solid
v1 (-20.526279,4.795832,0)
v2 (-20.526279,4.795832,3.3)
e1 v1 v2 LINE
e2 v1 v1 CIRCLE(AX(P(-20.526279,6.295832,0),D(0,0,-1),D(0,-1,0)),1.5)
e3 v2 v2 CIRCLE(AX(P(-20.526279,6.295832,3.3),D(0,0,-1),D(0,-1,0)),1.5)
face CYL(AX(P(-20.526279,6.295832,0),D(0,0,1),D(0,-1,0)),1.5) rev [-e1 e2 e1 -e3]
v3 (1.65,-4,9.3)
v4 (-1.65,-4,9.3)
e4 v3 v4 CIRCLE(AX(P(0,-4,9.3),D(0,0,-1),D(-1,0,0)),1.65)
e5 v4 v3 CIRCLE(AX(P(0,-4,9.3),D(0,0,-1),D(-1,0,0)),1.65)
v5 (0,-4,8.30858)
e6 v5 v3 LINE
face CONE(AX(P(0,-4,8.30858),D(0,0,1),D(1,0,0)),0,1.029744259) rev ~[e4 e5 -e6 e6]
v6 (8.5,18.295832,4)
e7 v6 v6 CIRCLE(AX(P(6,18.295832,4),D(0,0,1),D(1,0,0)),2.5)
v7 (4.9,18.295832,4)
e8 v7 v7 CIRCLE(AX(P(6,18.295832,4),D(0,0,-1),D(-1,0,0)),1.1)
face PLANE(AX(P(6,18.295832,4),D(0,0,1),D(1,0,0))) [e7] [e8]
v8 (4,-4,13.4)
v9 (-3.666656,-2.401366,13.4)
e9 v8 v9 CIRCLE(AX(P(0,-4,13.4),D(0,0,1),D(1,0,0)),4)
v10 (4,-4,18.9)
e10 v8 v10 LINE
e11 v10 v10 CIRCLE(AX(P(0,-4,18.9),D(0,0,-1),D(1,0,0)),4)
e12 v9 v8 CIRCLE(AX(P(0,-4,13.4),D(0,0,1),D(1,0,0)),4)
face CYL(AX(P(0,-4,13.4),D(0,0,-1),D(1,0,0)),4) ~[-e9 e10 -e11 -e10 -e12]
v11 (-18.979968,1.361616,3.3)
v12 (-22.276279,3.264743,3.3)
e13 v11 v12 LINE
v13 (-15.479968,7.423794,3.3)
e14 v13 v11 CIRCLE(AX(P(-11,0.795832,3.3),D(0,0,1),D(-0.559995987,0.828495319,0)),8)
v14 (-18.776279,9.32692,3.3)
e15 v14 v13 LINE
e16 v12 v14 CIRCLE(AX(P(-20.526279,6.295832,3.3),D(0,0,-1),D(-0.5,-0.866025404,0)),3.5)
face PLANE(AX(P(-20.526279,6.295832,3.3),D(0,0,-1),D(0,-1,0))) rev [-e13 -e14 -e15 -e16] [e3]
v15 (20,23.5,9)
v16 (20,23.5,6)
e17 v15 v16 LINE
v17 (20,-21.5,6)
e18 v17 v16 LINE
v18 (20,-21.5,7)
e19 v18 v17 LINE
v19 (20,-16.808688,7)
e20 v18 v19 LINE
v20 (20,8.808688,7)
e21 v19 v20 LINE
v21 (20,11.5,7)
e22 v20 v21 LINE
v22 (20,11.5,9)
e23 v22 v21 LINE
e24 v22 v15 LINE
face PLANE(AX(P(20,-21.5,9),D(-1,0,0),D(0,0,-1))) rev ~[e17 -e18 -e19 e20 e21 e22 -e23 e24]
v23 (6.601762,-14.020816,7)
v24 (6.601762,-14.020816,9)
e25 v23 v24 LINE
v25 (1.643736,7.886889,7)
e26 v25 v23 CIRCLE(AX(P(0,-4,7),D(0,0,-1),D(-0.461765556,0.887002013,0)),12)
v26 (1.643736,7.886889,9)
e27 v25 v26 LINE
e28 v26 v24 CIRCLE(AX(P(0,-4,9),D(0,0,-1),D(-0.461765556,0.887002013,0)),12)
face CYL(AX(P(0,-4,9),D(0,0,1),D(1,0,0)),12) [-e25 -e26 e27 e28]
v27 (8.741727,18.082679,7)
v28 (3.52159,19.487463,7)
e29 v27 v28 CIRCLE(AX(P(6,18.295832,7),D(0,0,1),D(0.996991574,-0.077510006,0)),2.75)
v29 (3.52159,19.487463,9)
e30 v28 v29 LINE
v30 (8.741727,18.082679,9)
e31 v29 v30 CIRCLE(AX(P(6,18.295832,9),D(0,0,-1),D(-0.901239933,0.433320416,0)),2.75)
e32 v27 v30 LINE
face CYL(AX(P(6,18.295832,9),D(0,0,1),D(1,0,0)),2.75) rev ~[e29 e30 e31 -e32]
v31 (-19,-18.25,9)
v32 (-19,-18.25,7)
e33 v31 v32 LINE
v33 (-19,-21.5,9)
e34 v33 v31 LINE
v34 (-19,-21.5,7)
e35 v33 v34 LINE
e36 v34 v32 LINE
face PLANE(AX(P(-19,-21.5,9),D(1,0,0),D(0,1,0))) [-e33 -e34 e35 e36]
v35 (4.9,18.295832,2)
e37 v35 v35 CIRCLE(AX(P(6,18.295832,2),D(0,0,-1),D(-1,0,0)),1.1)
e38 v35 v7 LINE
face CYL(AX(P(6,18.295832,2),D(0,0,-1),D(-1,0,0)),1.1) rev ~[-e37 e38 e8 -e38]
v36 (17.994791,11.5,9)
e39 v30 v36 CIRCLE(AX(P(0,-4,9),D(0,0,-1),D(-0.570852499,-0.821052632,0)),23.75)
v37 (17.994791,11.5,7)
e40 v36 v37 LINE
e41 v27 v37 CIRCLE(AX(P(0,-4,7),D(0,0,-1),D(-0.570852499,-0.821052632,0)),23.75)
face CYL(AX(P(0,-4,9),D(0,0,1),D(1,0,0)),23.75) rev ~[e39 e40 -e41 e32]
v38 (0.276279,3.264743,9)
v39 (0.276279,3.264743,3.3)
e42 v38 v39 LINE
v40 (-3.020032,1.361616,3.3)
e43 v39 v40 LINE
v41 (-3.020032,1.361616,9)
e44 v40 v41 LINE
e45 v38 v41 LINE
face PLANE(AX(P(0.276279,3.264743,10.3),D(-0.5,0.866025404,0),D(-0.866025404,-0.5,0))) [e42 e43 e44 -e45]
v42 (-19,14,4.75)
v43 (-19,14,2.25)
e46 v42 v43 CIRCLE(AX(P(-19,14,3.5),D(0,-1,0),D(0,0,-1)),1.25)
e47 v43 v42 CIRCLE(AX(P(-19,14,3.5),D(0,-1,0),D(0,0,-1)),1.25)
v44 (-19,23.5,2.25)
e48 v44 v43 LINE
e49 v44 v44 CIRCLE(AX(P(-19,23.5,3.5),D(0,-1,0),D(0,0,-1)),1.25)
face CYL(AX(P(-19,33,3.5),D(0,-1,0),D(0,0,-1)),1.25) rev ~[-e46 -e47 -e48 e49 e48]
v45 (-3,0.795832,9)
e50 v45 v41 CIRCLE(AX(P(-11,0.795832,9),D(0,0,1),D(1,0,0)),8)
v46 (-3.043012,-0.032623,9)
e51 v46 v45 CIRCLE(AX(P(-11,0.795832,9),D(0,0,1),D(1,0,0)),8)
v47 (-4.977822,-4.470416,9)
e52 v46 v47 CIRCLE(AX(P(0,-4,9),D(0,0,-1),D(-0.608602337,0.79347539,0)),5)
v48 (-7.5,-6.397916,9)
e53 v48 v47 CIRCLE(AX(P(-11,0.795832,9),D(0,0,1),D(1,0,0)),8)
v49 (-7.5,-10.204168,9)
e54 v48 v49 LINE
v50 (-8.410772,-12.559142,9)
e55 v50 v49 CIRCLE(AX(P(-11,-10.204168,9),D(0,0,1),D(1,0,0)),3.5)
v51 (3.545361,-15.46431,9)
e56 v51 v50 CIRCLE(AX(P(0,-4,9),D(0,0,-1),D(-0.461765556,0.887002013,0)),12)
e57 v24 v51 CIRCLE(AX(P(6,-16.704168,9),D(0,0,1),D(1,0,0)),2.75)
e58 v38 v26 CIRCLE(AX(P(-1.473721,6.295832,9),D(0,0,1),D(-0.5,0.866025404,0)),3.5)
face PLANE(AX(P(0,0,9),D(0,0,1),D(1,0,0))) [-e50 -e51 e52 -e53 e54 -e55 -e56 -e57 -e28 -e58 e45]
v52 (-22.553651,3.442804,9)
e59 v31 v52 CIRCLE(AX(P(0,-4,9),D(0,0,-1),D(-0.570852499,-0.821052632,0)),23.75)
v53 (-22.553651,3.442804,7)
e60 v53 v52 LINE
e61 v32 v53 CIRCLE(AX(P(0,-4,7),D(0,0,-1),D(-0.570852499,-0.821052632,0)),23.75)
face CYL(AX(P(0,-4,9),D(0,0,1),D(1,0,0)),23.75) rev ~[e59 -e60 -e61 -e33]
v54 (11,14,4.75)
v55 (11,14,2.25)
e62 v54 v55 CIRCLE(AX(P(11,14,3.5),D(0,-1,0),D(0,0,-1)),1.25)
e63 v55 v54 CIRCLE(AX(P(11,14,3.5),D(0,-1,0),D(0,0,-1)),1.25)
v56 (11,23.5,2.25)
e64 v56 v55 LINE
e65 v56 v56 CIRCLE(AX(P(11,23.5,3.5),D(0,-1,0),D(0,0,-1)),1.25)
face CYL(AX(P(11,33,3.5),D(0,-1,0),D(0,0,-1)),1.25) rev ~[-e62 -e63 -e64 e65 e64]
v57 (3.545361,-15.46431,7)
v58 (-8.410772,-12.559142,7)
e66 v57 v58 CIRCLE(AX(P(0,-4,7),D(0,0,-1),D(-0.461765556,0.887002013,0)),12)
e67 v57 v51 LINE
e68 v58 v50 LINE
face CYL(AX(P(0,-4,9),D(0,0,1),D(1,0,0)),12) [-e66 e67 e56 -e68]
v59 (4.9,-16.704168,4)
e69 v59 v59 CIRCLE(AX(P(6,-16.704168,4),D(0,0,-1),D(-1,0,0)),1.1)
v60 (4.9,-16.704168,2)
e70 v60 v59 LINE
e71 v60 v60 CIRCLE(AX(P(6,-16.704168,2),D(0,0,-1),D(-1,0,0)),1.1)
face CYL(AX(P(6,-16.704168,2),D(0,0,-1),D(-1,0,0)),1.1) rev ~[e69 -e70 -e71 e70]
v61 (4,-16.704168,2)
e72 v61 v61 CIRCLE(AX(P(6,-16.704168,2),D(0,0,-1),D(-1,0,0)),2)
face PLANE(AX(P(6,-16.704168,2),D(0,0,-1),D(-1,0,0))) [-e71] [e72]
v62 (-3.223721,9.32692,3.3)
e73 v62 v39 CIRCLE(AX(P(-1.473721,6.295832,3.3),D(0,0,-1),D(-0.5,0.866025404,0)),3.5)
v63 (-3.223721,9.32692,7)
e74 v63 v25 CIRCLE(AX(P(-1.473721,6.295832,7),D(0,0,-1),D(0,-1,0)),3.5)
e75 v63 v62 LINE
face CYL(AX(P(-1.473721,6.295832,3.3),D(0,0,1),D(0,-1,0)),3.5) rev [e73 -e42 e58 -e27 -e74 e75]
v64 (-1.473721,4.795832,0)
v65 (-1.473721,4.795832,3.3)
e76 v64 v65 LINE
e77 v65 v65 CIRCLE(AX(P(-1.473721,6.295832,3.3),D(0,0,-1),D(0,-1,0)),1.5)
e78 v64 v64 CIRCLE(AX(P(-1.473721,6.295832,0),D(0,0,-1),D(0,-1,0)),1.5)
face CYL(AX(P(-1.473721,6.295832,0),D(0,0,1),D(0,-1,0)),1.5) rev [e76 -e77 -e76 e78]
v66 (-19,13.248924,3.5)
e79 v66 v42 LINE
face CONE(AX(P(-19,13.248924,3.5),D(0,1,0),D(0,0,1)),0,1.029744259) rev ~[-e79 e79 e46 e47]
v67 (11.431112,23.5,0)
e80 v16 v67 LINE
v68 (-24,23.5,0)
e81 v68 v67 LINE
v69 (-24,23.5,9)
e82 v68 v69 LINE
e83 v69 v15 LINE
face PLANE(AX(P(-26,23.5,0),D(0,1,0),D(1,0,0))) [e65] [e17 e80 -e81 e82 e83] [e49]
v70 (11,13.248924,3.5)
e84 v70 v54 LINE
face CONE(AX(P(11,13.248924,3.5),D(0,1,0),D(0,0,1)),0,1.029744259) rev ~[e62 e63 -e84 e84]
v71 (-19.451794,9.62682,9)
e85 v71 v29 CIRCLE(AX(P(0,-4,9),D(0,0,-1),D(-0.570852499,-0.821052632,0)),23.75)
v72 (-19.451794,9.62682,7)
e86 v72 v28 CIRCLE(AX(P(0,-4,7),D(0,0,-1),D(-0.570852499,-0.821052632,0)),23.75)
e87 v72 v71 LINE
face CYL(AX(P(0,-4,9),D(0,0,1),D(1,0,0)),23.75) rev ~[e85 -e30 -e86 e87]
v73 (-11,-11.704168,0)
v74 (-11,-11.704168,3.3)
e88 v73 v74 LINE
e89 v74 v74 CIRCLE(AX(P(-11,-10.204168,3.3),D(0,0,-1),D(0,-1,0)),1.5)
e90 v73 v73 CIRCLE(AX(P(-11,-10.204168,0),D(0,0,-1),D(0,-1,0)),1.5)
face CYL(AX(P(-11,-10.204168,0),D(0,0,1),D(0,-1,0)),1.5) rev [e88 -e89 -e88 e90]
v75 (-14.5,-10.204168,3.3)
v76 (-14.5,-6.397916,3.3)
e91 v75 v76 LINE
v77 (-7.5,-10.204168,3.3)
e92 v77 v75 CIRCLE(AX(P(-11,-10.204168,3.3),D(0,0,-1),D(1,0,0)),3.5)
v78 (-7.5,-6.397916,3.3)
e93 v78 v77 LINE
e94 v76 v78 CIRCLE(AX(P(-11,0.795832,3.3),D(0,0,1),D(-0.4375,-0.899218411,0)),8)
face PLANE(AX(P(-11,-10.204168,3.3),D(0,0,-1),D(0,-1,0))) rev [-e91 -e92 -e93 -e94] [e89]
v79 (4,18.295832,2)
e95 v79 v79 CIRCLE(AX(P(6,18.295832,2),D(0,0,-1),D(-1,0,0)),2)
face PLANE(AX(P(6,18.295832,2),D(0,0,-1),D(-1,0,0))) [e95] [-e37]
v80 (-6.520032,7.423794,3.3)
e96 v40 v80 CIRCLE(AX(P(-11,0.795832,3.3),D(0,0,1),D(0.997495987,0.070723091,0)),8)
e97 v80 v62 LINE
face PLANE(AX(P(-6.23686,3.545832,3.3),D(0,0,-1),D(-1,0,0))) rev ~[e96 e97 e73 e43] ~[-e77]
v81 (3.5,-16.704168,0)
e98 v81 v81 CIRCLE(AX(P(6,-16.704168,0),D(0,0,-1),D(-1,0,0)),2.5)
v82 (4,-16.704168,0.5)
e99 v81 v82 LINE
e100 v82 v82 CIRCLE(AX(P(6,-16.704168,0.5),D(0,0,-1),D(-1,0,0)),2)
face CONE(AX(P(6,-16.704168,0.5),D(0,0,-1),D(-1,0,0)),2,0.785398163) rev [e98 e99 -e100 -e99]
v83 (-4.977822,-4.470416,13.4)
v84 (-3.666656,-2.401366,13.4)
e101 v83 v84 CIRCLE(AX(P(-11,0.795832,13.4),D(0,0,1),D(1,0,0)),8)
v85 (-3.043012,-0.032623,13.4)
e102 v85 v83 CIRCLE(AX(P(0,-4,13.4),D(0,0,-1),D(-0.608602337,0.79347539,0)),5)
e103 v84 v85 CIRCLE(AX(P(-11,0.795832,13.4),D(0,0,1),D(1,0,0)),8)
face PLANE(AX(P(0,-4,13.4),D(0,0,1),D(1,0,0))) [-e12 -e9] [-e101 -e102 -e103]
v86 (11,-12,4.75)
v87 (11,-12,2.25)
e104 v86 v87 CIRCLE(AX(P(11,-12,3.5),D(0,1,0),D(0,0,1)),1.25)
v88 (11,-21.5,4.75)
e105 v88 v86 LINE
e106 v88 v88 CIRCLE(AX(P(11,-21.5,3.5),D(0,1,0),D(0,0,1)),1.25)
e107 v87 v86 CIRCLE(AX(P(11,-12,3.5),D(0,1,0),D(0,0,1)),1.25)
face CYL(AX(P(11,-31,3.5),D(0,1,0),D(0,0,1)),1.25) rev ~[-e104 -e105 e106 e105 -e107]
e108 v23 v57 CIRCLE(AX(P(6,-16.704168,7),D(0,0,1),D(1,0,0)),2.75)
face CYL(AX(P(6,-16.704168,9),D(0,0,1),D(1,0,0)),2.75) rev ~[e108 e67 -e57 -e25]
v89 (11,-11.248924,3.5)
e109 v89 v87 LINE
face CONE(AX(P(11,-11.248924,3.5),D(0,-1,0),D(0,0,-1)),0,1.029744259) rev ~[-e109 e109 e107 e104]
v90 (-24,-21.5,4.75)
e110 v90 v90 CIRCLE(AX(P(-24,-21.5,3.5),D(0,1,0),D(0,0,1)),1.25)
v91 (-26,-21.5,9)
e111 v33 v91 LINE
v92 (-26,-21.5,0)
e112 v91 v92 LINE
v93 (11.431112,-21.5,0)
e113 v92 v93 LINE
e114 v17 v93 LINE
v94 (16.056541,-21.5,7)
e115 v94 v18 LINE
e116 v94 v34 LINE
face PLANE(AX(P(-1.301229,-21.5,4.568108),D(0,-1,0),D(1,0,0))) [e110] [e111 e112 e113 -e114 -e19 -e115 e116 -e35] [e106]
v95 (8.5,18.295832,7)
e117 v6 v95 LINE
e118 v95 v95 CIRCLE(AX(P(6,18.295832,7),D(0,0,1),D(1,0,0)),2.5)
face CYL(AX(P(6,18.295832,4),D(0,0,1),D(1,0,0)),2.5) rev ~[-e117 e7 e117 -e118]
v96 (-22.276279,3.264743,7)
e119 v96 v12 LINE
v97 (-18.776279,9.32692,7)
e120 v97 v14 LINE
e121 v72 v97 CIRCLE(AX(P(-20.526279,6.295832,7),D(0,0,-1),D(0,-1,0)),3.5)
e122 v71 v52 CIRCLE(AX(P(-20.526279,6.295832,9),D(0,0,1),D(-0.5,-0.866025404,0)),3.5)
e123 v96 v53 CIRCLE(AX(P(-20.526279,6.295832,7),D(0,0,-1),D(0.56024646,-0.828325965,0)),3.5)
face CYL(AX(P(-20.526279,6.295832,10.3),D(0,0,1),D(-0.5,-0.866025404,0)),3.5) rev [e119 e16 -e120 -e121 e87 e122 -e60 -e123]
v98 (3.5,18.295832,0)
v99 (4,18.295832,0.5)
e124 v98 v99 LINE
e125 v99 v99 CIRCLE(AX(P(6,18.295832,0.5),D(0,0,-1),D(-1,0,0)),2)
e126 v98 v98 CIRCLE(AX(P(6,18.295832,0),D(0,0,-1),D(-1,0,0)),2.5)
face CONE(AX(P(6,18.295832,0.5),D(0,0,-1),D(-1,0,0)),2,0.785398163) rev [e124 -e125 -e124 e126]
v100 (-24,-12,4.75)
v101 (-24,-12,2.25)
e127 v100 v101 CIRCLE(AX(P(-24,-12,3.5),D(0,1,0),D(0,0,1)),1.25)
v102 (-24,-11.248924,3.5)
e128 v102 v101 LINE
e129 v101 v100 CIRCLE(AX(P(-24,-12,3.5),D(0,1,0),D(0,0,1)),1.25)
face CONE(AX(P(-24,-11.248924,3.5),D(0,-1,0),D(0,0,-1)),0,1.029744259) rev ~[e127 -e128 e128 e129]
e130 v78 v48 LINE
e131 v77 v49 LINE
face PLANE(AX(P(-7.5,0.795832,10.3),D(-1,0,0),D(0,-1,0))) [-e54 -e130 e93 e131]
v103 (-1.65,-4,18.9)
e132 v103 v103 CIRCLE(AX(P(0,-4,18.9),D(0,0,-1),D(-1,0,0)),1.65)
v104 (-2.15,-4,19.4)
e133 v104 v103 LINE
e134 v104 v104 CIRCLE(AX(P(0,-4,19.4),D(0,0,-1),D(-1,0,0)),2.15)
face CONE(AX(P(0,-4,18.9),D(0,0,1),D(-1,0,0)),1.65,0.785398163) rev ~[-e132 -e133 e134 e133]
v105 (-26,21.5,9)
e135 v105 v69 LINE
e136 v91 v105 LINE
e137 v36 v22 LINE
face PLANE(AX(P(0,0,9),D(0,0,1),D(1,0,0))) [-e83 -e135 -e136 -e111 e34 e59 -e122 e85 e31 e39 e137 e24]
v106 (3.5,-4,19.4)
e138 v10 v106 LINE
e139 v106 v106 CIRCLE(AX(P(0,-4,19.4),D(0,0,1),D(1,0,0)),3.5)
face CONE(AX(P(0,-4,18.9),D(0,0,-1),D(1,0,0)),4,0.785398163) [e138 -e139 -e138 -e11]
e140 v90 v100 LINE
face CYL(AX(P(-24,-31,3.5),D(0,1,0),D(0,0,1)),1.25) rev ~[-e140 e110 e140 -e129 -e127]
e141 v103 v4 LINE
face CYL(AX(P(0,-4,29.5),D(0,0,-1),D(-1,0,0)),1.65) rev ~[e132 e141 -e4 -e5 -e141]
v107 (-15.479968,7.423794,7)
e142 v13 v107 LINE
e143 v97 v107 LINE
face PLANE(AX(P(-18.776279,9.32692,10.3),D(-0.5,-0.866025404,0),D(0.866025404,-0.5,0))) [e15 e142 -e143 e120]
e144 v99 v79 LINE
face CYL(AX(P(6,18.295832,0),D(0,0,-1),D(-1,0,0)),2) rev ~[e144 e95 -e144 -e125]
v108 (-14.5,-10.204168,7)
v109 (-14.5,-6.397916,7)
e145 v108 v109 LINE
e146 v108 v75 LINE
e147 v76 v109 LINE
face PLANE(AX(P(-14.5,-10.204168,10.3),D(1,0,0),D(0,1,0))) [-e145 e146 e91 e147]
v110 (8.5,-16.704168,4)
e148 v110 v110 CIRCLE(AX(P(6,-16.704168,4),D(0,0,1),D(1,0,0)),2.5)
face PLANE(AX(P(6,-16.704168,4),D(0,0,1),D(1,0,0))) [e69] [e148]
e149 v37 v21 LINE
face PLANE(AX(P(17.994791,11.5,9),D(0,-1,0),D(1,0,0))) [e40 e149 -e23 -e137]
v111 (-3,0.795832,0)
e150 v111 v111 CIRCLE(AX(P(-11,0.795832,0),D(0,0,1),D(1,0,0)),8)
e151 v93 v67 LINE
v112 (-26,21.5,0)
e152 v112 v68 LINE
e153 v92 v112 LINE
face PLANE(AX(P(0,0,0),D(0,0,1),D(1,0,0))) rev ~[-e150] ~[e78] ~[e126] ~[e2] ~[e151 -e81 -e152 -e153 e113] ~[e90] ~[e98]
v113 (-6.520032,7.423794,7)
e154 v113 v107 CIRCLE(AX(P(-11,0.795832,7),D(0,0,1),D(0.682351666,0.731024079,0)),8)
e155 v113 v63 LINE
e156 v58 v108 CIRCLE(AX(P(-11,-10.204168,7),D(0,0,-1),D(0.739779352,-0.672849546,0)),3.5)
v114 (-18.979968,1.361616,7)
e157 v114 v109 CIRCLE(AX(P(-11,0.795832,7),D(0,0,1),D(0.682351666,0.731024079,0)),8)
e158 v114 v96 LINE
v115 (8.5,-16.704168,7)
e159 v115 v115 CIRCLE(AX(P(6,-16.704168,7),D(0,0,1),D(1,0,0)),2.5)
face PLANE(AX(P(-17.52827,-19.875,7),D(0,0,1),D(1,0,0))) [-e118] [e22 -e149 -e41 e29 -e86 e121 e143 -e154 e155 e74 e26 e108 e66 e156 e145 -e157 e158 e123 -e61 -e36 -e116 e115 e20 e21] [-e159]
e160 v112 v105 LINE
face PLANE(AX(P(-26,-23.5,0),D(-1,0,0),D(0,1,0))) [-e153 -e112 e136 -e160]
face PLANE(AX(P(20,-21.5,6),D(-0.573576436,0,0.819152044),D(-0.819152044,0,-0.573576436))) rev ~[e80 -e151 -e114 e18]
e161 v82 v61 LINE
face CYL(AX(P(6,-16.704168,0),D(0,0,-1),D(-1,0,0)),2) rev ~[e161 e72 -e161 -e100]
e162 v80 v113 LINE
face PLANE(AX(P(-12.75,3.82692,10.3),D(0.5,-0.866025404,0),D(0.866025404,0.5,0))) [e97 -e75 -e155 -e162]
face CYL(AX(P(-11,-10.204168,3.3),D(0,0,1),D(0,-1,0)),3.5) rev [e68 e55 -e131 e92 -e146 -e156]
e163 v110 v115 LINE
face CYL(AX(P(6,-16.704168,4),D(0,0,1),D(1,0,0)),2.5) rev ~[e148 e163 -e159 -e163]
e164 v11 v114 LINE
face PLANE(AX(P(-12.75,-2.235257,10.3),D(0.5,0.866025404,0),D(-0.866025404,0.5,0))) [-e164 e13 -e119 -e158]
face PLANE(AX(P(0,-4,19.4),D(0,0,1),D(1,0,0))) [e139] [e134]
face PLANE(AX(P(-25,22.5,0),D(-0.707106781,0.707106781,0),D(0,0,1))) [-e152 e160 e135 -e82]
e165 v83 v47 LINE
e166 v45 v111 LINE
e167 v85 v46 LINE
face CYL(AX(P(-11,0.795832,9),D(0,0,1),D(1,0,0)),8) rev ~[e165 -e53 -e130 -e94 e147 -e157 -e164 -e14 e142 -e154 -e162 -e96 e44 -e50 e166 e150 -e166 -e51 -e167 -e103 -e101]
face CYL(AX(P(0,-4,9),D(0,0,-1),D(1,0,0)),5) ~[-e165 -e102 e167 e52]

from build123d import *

# Parameters (mm, degrees)
SKETCH_1_W                  = 52
SKETCH_1_H                  = 47
EXTRUDE_1_DEPTH             = 9
SKETCH_19_R                 = 23.75
SKETCH_19_R_2               = 12
CUT_EXTRUDE_2_DEPTH         = 2
SKETCH_20_R                 = 5
EXTRUDE_3_DEPTH             = 4.4
SKETCH_21_R                 = 4
EXTRUDE_4_DEPTH             = 6
SKETCH_22_R                 = 8
CUT_EXTRUDE_5_DEPTH         = 37.556941885
CUT_EXTRUDE_6_DEPTH         = 47
HOLE_WIZARD_M3_1_D          = 2.5
HOLE_WIZARD_M3_1_DEPTH      = 9.5
HOLE_WIZARD_M3_1_TIP        = 0.751075774
HOLE_WIZARD_M4_2_D          = 3.3
HOLE_WIZARD_M4_2_DEPTH      = 10.1
HOLE_WIZARD_M4_2_TIP        = 0.991420021
CHAMFER_3_SIZE              = 0.5
CHAMFER_5_SIZE              = 2
EXTRUDE3_DEPTH              = 2
EXTRUDE4_REACH              = 57.474
CUT_EXTRUDE_START           = -31
SKETCH_34_R                 = 8
CUT_EXTRUDE_1_DEPTH         = 31
SKETCH_35_R                 = 3.25
CUT_EXTRUDE_2_2_DEPTH       = 33
PATTERN_CIRCULAR_1_COUNT    = 3
HOLE_WIZARD_2_AT_2_COUNT    = 2
HOLE_WIZARD_2_AT_2_PITCH    = 19.052558883
HOLE_WIZARD_2_AT_3_COUNT    = 2
HOLE_WIZARD_2_AT_3_PITCH    = 19.052558883
HOLE_WIZARD_M3_2_D          = 2.5
HOLE_WIZARD_M3_2_DEPTH      = 9.5
HOLE_WIZARD_M3_2_TIP        = 0.751075774
SKETCH_39_R                 = 2
CUT_EXTRUDE_3_DEPTH         = 2
SKETCH_40_R                 = 2.75
CUT_EXTRUDE_4_DEPTH         = 2
SKETCH_41_R                 = 1.1
CUT_EXTRUDE_5_2_DEPTH       = 37
CHAMFER_7_SIZE              = 0.5
HOLE_WIZARD_2_2_D           = 2
HOLE_WIZARD_2_2_CBORE_D     = 5
HOLE_WIZARD_2_2_CBORE_DEPTH = 3
CUT_EXTRUDE_START_2         = 7
CUT_EXTRUDE_7_DEPTH         = 7
PATTERN_CIRCULAR_2_COUNT    = 3
SKETCH_45_W                 = 2.943459277
SKETCH_45_H                 = 3.25
SKETCH_45_W_2               = 2.005209087
SKETCH_45_H_2               = 2.691311543
SKETCH_45_W_3               = 3.943459277
SKETCH_45_H_3               = 4.763787499
CUT_EXTRUDE_8_DEPTH         = 2


with BuildPart() as part:
    # 草图1 → 拉伸1 (new body)
    with BuildSketch(Plane.XY):
        Rectangle(SKETCH_1_W, SKETCH_1_H)
    extrude(amount=EXTRUDE_1_DEPTH)

    # 草图19 → Cut-Extrude 2 (cut)
    with BuildSketch(Plane.XY.offset(9)):
        with Locations((0, -4)):
            Circle(SKETCH_19_R)
        with Locations((0, -4)):
            Circle(SKETCH_19_R_2, mode=Mode.SUBTRACT)
    extrude(amount=-CUT_EXTRUDE_2_DEPTH, mode=Mode.SUBTRACT)

    # 草图20 → 拉伸3 (add)
    with BuildSketch(Plane.XY.offset(9)):
        with Locations((0, -4)):
            Circle(SKETCH_20_R)
    extrude(amount=EXTRUDE_3_DEPTH)

    # 草图21 → 拉伸4 (add)
    with BuildSketch(Plane.XY.offset(13.4)):
        with Locations((0, -4)):
            Circle(SKETCH_21_R)
    extrude(amount=EXTRUDE_4_DEPTH)

    # 草图22 → Cut-Extrude 5 (cut, through all)
    with BuildSketch(Plane.XY.offset(9)):
        with Locations((-11, 0.795831523)):
            Circle(SKETCH_22_R)
    extrude(amount=-CUT_EXTRUDE_5_DEPTH, mode=Mode.SUBTRACT)

    # 草图25 → 拉伸6 (cut)
    with BuildSketch(Plane.XZ.offset(23.5)):
        Polygon((26, 8), (14.574815946, 0), (26, 0), align=None)
    extrude(amount=-CUT_EXTRUDE_6_DEPTH, mode=Mode.SUBTRACT)

    # M3 螺纹孔1
    with Locations(Plane(origin=(11, 23.5, 3.5), x_dir=(0, 0, 1), z_dir=(0, 1, 0))):
        with Locations((0, 0), (0, -30)):
            Hole(HOLE_WIZARD_M3_1_D / 2, depth=HOLE_WIZARD_M3_1_DEPTH)
            with Locations((0, 0, -(HOLE_WIZARD_M3_1_DEPTH + HOLE_WIZARD_M3_1_TIP / 2))):  # 118° drill point
                Cone(0, HOLE_WIZARD_M3_1_D / 2, HOLE_WIZARD_M3_1_TIP, mode=Mode.SUBTRACT)

    # M4 螺纹孔2
    with Locations(Plane(origin=(0, -4, 19.4), x_dir=(1, 0, 0), z_dir=(0, 0, 1))):
        with Locations((0, 0)):
            Hole(HOLE_WIZARD_M4_2_D / 2, depth=HOLE_WIZARD_M4_2_DEPTH)
            with Locations((0, 0, -(HOLE_WIZARD_M4_2_DEPTH + HOLE_WIZARD_M4_2_TIP / 2))):  # 118° drill point
                Cone(0, HOLE_WIZARD_M4_2_D / 2, HOLE_WIZARD_M4_2_TIP, mode=Mode.SUBTRACT)

    # 倒角3
    chamfer_3_edges = [part.edges().sort_by_distance(p)[0] for p in [
        (-4, -4, 19.4),
        (1.65, -4, 19.4),
    ]]
    chamfer(chamfer_3_edges, length=CHAMFER_3_SIZE)

    # 倒角5
    chamfer_5_edges = [part.edges().sort_by_distance(p)[0] for p in [
        (-26, 23.5, 4.5),
    ]]
    chamfer(chamfer_5_edges, length=CHAMFER_5_SIZE)

    # Sketch4 → Extrude3 (cut)
    with BuildSketch(Plane.XZ.offset(23.5)):
        Polygon((-26, 0), (14.574815946, 0), (26, 8), (26, 9), (13.557746863, 9), (13.557746863, 7), (-13.557746863, 7), (-13.557746863, 9), (-26, 9), align=None)
    extrude(amount=-EXTRUDE3_DEPTH, mode=Mode.SUBTRACT)

    # Extrude4: up to this face of the body (flat: up to its plane)
    extrude4_end = Plane(part.part.faces().sort_by_distance((-1.330613504, 23.5, 4.737278788))[0])
    # Sketch5 → Extrude4 (cut, up to the picked face)
    with BuildSketch(Plane.XZ.offset(21.5), mode=Mode.PRIVATE) as extrude4_sk1:
        Polygon((26, 9), (20, 9), (20, 6), (11.43111196, 0), (14.574815946, 0), (26, 8), align=None)
    extrude4_tool1 = split(extrude(extrude4_sk1.sketch, amount=-EXTRUDE4_REACH, mode=Mode.PRIVATE), bisect_by=extrude4_end, keep=Keep.BOTH, mode=Mode.PRIVATE)
    add(extrude4_tool1.solids().sort_by(Axis((19.659359, -21.5, 5.073959), (0, 1, 0)))[0], mode=Mode.SUBTRACT)

    # 草图34 → 切除-拉伸1 (cut)
    with BuildSketch(Plane(origin=(0, 0, 0), x_dir=(-1, 0, 0), z_dir=(0, 0, -1)).offset(CUT_EXTRUDE_START)):
        with Locations(Location((11, 0.795831523, 0), (0, 0, 180))):
            Circle(SKETCH_34_R)
    extrude(amount=CUT_EXTRUDE_1_DEPTH, mode=Mode.SUBTRACT)

    # 草图35 → Cut-Extrude 2 2 (cut)
    with BuildSketch(Plane.XY.offset(7)):
        with Locations((-1.473720558, 6.295831523)):
            Circle(SKETCH_35_R)
    cut_extrude_2_2 = extrude(amount=CUT_EXTRUDE_2_2_DEPTH, mode=Mode.SUBTRACT)

    # 阵列(圆周)1: Cut-Extrude 2 2 ×3 about axis
    pattern_circular_1_axis = Axis((-11, 0.795831523, 0), (0, 0, 1))
    for i in range(1, PATTERN_CIRCULAR_1_COUNT):
        add(cut_extrude_2_2.rotate(pattern_circular_1_axis, i * 360 / PATTERN_CIRCULAR_1_COUNT), mode=Mode.SUBTRACT)

    # 草图36 → Hole Wizard 2 (revolve, cut)
    with BuildSketch(Plane(origin=(-20.526279442, 6.295831523, 7), x_dir=(0, -1, 0), z_dir=(1, 0, 0))):
        Polygon((0, 0), (0, 7), (1.5, 7), (1.5, 3.7), (3.5, 3.7), (3.5, 0), align=None)
    hole_wizard_2 = revolve(axis=Axis((-20.526279442, 6.295831523, 13.35), (0, 0, -1)), mode=Mode.SUBTRACT)

    # Hole Wizard 2 at 2: Hole Wizard 2 ×2
    with Locations(*[(i * HOLE_WIZARD_2_AT_2_PITCH, 0, 0) for i in range(1, HOLE_WIZARD_2_AT_2_COUNT)]):
        add(hole_wizard_2, mode=Mode.SUBTRACT)

    # Hole Wizard 2 at 3: Hole Wizard 2 ×2
    with Locations(*[Vector(0.49999999999999795, -0.8660254037844398, 0) * (i * HOLE_WIZARD_2_AT_3_PITCH) for i in range(1, HOLE_WIZARD_2_AT_3_COUNT)]):
        add(hole_wizard_2, mode=Mode.SUBTRACT)

    # M3 螺纹孔2
    with Locations(Plane(origin=(-24, -21.5, 3.5), x_dir=(0, 0, -1), z_dir=(0, -1, 0))):
        with Locations((0, 0), (0, 35)):
            Hole(HOLE_WIZARD_M3_2_D / 2, depth=HOLE_WIZARD_M3_2_DEPTH)
            with Locations((0, 0, -(HOLE_WIZARD_M3_2_DEPTH + HOLE_WIZARD_M3_2_TIP / 2))):  # 118° drill point
                Cone(0, HOLE_WIZARD_M3_2_D / 2, HOLE_WIZARD_M3_2_TIP, mode=Mode.SUBTRACT)

    # 草图39 → 切除-拉伸3 (cut)
    with BuildSketch(Plane(origin=(0, 0, 0), x_dir=(-1, 0, 0), z_dir=(0, 0, -1))):
        with Locations((-6, 18.295831523)):
            Circle(SKETCH_39_R)
        with Locations((-6, -16.704168477)):
            Circle(SKETCH_39_R)
    extrude(amount=-CUT_EXTRUDE_3_DEPTH, mode=Mode.SUBTRACT)

    # 草图40 → 切除-拉伸4 (cut)
    with BuildSketch(Plane.XY.offset(9)):
        with Locations((6, 18.295831523)):
            Circle(SKETCH_40_R)
        with Locations((6, -16.704168477)):
            Circle(SKETCH_40_R)
    extrude(amount=-CUT_EXTRUDE_4_DEPTH, mode=Mode.SUBTRACT)

    # 草图41 → Cut-Extrude 5 2 (cut)
    with BuildSketch(Plane(origin=(0, 0, 2), x_dir=(-1, 0, 0), z_dir=(0, 0, -1))):
        with Locations((-6, 18.295831523)):
            Circle(SKETCH_41_R)
        with Locations((-6, -16.704168477)):
            Circle(SKETCH_41_R)
    extrude(amount=-CUT_EXTRUDE_5_2_DEPTH, mode=Mode.SUBTRACT)

    # 倒角7
    chamfer_7_edges = [part.edges().sort_by_distance(p)[0] for p in [
        (8, 18.295831523, 0),
        (8, -16.704168477, 0),
    ]]
    chamfer(chamfer_7_edges, length=CHAMFER_7_SIZE)

    # Hole Wizard 2 2 (through all)
    with Locations(Plane(origin=(6, 18.295831523, 7), x_dir=(1, 0, 0), z_dir=(0, 0, 1))):
        with Locations((0, 0), (0, -35)):
            CounterBoreHole(HOLE_WIZARD_2_2_D / 2, HOLE_WIZARD_2_2_CBORE_D / 2, HOLE_WIZARD_2_2_CBORE_DEPTH)

    # 草图44 → 切除-拉伸7 (cut)
    with BuildSketch(Plane.XY.offset(3.3).offset(CUT_EXTRUDE_START_2)):
        with BuildLine():
            Line((0.276279442, 3.26474261), (-9.25, -2.23525739))
            ThreePointArc((-9.25, -2.23525739), (-14.031088913, -0.954168477), (-12.75, 3.826920437))
            Line((-12.75, 3.826920437), (-3.223720558, 9.326920437))
            ThreePointArc((-3.223720558, 9.326920437), (1.557368355, 8.045831523), (0.276279442, 3.26474261))
        make_face()
    cut_extrude_7 = extrude(amount=-CUT_EXTRUDE_7_DEPTH, mode=Mode.SUBTRACT)

    # 阵列(圆周)2: 切除-拉伸7 ×3 about axis
    pattern_circular_2_axis = Axis((-11, 0.795831523, 0), (0, 0, 1))
    for i in range(1, PATTERN_CIRCULAR_2_COUNT):
        add(cut_extrude_7.rotate(pattern_circular_2_axis, i * 360 / PATTERN_CIRCULAR_2_COUNT), mode=Mode.SUBTRACT)

    # 草图45 → 切除-拉伸8 (cut)
    with BuildSketch(Plane.XY.offset(9)):
        with Locations((-17.528270361, -19.875)):
            Rectangle(SKETCH_45_W, SKETCH_45_H)
        with Locations((18.997395457, 10.154344229)):
            Rectangle(SKETCH_45_W_2, SKETCH_45_H_2)
        with Locations((18.028270361, -19.11810625)):
            Rectangle(SKETCH_45_W_3, SKETCH_45_H_3)
    extrude(amount=-CUT_EXTRUDE_8_DEPTH, mode=Mode.SUBTRACT)


solid = part.part
